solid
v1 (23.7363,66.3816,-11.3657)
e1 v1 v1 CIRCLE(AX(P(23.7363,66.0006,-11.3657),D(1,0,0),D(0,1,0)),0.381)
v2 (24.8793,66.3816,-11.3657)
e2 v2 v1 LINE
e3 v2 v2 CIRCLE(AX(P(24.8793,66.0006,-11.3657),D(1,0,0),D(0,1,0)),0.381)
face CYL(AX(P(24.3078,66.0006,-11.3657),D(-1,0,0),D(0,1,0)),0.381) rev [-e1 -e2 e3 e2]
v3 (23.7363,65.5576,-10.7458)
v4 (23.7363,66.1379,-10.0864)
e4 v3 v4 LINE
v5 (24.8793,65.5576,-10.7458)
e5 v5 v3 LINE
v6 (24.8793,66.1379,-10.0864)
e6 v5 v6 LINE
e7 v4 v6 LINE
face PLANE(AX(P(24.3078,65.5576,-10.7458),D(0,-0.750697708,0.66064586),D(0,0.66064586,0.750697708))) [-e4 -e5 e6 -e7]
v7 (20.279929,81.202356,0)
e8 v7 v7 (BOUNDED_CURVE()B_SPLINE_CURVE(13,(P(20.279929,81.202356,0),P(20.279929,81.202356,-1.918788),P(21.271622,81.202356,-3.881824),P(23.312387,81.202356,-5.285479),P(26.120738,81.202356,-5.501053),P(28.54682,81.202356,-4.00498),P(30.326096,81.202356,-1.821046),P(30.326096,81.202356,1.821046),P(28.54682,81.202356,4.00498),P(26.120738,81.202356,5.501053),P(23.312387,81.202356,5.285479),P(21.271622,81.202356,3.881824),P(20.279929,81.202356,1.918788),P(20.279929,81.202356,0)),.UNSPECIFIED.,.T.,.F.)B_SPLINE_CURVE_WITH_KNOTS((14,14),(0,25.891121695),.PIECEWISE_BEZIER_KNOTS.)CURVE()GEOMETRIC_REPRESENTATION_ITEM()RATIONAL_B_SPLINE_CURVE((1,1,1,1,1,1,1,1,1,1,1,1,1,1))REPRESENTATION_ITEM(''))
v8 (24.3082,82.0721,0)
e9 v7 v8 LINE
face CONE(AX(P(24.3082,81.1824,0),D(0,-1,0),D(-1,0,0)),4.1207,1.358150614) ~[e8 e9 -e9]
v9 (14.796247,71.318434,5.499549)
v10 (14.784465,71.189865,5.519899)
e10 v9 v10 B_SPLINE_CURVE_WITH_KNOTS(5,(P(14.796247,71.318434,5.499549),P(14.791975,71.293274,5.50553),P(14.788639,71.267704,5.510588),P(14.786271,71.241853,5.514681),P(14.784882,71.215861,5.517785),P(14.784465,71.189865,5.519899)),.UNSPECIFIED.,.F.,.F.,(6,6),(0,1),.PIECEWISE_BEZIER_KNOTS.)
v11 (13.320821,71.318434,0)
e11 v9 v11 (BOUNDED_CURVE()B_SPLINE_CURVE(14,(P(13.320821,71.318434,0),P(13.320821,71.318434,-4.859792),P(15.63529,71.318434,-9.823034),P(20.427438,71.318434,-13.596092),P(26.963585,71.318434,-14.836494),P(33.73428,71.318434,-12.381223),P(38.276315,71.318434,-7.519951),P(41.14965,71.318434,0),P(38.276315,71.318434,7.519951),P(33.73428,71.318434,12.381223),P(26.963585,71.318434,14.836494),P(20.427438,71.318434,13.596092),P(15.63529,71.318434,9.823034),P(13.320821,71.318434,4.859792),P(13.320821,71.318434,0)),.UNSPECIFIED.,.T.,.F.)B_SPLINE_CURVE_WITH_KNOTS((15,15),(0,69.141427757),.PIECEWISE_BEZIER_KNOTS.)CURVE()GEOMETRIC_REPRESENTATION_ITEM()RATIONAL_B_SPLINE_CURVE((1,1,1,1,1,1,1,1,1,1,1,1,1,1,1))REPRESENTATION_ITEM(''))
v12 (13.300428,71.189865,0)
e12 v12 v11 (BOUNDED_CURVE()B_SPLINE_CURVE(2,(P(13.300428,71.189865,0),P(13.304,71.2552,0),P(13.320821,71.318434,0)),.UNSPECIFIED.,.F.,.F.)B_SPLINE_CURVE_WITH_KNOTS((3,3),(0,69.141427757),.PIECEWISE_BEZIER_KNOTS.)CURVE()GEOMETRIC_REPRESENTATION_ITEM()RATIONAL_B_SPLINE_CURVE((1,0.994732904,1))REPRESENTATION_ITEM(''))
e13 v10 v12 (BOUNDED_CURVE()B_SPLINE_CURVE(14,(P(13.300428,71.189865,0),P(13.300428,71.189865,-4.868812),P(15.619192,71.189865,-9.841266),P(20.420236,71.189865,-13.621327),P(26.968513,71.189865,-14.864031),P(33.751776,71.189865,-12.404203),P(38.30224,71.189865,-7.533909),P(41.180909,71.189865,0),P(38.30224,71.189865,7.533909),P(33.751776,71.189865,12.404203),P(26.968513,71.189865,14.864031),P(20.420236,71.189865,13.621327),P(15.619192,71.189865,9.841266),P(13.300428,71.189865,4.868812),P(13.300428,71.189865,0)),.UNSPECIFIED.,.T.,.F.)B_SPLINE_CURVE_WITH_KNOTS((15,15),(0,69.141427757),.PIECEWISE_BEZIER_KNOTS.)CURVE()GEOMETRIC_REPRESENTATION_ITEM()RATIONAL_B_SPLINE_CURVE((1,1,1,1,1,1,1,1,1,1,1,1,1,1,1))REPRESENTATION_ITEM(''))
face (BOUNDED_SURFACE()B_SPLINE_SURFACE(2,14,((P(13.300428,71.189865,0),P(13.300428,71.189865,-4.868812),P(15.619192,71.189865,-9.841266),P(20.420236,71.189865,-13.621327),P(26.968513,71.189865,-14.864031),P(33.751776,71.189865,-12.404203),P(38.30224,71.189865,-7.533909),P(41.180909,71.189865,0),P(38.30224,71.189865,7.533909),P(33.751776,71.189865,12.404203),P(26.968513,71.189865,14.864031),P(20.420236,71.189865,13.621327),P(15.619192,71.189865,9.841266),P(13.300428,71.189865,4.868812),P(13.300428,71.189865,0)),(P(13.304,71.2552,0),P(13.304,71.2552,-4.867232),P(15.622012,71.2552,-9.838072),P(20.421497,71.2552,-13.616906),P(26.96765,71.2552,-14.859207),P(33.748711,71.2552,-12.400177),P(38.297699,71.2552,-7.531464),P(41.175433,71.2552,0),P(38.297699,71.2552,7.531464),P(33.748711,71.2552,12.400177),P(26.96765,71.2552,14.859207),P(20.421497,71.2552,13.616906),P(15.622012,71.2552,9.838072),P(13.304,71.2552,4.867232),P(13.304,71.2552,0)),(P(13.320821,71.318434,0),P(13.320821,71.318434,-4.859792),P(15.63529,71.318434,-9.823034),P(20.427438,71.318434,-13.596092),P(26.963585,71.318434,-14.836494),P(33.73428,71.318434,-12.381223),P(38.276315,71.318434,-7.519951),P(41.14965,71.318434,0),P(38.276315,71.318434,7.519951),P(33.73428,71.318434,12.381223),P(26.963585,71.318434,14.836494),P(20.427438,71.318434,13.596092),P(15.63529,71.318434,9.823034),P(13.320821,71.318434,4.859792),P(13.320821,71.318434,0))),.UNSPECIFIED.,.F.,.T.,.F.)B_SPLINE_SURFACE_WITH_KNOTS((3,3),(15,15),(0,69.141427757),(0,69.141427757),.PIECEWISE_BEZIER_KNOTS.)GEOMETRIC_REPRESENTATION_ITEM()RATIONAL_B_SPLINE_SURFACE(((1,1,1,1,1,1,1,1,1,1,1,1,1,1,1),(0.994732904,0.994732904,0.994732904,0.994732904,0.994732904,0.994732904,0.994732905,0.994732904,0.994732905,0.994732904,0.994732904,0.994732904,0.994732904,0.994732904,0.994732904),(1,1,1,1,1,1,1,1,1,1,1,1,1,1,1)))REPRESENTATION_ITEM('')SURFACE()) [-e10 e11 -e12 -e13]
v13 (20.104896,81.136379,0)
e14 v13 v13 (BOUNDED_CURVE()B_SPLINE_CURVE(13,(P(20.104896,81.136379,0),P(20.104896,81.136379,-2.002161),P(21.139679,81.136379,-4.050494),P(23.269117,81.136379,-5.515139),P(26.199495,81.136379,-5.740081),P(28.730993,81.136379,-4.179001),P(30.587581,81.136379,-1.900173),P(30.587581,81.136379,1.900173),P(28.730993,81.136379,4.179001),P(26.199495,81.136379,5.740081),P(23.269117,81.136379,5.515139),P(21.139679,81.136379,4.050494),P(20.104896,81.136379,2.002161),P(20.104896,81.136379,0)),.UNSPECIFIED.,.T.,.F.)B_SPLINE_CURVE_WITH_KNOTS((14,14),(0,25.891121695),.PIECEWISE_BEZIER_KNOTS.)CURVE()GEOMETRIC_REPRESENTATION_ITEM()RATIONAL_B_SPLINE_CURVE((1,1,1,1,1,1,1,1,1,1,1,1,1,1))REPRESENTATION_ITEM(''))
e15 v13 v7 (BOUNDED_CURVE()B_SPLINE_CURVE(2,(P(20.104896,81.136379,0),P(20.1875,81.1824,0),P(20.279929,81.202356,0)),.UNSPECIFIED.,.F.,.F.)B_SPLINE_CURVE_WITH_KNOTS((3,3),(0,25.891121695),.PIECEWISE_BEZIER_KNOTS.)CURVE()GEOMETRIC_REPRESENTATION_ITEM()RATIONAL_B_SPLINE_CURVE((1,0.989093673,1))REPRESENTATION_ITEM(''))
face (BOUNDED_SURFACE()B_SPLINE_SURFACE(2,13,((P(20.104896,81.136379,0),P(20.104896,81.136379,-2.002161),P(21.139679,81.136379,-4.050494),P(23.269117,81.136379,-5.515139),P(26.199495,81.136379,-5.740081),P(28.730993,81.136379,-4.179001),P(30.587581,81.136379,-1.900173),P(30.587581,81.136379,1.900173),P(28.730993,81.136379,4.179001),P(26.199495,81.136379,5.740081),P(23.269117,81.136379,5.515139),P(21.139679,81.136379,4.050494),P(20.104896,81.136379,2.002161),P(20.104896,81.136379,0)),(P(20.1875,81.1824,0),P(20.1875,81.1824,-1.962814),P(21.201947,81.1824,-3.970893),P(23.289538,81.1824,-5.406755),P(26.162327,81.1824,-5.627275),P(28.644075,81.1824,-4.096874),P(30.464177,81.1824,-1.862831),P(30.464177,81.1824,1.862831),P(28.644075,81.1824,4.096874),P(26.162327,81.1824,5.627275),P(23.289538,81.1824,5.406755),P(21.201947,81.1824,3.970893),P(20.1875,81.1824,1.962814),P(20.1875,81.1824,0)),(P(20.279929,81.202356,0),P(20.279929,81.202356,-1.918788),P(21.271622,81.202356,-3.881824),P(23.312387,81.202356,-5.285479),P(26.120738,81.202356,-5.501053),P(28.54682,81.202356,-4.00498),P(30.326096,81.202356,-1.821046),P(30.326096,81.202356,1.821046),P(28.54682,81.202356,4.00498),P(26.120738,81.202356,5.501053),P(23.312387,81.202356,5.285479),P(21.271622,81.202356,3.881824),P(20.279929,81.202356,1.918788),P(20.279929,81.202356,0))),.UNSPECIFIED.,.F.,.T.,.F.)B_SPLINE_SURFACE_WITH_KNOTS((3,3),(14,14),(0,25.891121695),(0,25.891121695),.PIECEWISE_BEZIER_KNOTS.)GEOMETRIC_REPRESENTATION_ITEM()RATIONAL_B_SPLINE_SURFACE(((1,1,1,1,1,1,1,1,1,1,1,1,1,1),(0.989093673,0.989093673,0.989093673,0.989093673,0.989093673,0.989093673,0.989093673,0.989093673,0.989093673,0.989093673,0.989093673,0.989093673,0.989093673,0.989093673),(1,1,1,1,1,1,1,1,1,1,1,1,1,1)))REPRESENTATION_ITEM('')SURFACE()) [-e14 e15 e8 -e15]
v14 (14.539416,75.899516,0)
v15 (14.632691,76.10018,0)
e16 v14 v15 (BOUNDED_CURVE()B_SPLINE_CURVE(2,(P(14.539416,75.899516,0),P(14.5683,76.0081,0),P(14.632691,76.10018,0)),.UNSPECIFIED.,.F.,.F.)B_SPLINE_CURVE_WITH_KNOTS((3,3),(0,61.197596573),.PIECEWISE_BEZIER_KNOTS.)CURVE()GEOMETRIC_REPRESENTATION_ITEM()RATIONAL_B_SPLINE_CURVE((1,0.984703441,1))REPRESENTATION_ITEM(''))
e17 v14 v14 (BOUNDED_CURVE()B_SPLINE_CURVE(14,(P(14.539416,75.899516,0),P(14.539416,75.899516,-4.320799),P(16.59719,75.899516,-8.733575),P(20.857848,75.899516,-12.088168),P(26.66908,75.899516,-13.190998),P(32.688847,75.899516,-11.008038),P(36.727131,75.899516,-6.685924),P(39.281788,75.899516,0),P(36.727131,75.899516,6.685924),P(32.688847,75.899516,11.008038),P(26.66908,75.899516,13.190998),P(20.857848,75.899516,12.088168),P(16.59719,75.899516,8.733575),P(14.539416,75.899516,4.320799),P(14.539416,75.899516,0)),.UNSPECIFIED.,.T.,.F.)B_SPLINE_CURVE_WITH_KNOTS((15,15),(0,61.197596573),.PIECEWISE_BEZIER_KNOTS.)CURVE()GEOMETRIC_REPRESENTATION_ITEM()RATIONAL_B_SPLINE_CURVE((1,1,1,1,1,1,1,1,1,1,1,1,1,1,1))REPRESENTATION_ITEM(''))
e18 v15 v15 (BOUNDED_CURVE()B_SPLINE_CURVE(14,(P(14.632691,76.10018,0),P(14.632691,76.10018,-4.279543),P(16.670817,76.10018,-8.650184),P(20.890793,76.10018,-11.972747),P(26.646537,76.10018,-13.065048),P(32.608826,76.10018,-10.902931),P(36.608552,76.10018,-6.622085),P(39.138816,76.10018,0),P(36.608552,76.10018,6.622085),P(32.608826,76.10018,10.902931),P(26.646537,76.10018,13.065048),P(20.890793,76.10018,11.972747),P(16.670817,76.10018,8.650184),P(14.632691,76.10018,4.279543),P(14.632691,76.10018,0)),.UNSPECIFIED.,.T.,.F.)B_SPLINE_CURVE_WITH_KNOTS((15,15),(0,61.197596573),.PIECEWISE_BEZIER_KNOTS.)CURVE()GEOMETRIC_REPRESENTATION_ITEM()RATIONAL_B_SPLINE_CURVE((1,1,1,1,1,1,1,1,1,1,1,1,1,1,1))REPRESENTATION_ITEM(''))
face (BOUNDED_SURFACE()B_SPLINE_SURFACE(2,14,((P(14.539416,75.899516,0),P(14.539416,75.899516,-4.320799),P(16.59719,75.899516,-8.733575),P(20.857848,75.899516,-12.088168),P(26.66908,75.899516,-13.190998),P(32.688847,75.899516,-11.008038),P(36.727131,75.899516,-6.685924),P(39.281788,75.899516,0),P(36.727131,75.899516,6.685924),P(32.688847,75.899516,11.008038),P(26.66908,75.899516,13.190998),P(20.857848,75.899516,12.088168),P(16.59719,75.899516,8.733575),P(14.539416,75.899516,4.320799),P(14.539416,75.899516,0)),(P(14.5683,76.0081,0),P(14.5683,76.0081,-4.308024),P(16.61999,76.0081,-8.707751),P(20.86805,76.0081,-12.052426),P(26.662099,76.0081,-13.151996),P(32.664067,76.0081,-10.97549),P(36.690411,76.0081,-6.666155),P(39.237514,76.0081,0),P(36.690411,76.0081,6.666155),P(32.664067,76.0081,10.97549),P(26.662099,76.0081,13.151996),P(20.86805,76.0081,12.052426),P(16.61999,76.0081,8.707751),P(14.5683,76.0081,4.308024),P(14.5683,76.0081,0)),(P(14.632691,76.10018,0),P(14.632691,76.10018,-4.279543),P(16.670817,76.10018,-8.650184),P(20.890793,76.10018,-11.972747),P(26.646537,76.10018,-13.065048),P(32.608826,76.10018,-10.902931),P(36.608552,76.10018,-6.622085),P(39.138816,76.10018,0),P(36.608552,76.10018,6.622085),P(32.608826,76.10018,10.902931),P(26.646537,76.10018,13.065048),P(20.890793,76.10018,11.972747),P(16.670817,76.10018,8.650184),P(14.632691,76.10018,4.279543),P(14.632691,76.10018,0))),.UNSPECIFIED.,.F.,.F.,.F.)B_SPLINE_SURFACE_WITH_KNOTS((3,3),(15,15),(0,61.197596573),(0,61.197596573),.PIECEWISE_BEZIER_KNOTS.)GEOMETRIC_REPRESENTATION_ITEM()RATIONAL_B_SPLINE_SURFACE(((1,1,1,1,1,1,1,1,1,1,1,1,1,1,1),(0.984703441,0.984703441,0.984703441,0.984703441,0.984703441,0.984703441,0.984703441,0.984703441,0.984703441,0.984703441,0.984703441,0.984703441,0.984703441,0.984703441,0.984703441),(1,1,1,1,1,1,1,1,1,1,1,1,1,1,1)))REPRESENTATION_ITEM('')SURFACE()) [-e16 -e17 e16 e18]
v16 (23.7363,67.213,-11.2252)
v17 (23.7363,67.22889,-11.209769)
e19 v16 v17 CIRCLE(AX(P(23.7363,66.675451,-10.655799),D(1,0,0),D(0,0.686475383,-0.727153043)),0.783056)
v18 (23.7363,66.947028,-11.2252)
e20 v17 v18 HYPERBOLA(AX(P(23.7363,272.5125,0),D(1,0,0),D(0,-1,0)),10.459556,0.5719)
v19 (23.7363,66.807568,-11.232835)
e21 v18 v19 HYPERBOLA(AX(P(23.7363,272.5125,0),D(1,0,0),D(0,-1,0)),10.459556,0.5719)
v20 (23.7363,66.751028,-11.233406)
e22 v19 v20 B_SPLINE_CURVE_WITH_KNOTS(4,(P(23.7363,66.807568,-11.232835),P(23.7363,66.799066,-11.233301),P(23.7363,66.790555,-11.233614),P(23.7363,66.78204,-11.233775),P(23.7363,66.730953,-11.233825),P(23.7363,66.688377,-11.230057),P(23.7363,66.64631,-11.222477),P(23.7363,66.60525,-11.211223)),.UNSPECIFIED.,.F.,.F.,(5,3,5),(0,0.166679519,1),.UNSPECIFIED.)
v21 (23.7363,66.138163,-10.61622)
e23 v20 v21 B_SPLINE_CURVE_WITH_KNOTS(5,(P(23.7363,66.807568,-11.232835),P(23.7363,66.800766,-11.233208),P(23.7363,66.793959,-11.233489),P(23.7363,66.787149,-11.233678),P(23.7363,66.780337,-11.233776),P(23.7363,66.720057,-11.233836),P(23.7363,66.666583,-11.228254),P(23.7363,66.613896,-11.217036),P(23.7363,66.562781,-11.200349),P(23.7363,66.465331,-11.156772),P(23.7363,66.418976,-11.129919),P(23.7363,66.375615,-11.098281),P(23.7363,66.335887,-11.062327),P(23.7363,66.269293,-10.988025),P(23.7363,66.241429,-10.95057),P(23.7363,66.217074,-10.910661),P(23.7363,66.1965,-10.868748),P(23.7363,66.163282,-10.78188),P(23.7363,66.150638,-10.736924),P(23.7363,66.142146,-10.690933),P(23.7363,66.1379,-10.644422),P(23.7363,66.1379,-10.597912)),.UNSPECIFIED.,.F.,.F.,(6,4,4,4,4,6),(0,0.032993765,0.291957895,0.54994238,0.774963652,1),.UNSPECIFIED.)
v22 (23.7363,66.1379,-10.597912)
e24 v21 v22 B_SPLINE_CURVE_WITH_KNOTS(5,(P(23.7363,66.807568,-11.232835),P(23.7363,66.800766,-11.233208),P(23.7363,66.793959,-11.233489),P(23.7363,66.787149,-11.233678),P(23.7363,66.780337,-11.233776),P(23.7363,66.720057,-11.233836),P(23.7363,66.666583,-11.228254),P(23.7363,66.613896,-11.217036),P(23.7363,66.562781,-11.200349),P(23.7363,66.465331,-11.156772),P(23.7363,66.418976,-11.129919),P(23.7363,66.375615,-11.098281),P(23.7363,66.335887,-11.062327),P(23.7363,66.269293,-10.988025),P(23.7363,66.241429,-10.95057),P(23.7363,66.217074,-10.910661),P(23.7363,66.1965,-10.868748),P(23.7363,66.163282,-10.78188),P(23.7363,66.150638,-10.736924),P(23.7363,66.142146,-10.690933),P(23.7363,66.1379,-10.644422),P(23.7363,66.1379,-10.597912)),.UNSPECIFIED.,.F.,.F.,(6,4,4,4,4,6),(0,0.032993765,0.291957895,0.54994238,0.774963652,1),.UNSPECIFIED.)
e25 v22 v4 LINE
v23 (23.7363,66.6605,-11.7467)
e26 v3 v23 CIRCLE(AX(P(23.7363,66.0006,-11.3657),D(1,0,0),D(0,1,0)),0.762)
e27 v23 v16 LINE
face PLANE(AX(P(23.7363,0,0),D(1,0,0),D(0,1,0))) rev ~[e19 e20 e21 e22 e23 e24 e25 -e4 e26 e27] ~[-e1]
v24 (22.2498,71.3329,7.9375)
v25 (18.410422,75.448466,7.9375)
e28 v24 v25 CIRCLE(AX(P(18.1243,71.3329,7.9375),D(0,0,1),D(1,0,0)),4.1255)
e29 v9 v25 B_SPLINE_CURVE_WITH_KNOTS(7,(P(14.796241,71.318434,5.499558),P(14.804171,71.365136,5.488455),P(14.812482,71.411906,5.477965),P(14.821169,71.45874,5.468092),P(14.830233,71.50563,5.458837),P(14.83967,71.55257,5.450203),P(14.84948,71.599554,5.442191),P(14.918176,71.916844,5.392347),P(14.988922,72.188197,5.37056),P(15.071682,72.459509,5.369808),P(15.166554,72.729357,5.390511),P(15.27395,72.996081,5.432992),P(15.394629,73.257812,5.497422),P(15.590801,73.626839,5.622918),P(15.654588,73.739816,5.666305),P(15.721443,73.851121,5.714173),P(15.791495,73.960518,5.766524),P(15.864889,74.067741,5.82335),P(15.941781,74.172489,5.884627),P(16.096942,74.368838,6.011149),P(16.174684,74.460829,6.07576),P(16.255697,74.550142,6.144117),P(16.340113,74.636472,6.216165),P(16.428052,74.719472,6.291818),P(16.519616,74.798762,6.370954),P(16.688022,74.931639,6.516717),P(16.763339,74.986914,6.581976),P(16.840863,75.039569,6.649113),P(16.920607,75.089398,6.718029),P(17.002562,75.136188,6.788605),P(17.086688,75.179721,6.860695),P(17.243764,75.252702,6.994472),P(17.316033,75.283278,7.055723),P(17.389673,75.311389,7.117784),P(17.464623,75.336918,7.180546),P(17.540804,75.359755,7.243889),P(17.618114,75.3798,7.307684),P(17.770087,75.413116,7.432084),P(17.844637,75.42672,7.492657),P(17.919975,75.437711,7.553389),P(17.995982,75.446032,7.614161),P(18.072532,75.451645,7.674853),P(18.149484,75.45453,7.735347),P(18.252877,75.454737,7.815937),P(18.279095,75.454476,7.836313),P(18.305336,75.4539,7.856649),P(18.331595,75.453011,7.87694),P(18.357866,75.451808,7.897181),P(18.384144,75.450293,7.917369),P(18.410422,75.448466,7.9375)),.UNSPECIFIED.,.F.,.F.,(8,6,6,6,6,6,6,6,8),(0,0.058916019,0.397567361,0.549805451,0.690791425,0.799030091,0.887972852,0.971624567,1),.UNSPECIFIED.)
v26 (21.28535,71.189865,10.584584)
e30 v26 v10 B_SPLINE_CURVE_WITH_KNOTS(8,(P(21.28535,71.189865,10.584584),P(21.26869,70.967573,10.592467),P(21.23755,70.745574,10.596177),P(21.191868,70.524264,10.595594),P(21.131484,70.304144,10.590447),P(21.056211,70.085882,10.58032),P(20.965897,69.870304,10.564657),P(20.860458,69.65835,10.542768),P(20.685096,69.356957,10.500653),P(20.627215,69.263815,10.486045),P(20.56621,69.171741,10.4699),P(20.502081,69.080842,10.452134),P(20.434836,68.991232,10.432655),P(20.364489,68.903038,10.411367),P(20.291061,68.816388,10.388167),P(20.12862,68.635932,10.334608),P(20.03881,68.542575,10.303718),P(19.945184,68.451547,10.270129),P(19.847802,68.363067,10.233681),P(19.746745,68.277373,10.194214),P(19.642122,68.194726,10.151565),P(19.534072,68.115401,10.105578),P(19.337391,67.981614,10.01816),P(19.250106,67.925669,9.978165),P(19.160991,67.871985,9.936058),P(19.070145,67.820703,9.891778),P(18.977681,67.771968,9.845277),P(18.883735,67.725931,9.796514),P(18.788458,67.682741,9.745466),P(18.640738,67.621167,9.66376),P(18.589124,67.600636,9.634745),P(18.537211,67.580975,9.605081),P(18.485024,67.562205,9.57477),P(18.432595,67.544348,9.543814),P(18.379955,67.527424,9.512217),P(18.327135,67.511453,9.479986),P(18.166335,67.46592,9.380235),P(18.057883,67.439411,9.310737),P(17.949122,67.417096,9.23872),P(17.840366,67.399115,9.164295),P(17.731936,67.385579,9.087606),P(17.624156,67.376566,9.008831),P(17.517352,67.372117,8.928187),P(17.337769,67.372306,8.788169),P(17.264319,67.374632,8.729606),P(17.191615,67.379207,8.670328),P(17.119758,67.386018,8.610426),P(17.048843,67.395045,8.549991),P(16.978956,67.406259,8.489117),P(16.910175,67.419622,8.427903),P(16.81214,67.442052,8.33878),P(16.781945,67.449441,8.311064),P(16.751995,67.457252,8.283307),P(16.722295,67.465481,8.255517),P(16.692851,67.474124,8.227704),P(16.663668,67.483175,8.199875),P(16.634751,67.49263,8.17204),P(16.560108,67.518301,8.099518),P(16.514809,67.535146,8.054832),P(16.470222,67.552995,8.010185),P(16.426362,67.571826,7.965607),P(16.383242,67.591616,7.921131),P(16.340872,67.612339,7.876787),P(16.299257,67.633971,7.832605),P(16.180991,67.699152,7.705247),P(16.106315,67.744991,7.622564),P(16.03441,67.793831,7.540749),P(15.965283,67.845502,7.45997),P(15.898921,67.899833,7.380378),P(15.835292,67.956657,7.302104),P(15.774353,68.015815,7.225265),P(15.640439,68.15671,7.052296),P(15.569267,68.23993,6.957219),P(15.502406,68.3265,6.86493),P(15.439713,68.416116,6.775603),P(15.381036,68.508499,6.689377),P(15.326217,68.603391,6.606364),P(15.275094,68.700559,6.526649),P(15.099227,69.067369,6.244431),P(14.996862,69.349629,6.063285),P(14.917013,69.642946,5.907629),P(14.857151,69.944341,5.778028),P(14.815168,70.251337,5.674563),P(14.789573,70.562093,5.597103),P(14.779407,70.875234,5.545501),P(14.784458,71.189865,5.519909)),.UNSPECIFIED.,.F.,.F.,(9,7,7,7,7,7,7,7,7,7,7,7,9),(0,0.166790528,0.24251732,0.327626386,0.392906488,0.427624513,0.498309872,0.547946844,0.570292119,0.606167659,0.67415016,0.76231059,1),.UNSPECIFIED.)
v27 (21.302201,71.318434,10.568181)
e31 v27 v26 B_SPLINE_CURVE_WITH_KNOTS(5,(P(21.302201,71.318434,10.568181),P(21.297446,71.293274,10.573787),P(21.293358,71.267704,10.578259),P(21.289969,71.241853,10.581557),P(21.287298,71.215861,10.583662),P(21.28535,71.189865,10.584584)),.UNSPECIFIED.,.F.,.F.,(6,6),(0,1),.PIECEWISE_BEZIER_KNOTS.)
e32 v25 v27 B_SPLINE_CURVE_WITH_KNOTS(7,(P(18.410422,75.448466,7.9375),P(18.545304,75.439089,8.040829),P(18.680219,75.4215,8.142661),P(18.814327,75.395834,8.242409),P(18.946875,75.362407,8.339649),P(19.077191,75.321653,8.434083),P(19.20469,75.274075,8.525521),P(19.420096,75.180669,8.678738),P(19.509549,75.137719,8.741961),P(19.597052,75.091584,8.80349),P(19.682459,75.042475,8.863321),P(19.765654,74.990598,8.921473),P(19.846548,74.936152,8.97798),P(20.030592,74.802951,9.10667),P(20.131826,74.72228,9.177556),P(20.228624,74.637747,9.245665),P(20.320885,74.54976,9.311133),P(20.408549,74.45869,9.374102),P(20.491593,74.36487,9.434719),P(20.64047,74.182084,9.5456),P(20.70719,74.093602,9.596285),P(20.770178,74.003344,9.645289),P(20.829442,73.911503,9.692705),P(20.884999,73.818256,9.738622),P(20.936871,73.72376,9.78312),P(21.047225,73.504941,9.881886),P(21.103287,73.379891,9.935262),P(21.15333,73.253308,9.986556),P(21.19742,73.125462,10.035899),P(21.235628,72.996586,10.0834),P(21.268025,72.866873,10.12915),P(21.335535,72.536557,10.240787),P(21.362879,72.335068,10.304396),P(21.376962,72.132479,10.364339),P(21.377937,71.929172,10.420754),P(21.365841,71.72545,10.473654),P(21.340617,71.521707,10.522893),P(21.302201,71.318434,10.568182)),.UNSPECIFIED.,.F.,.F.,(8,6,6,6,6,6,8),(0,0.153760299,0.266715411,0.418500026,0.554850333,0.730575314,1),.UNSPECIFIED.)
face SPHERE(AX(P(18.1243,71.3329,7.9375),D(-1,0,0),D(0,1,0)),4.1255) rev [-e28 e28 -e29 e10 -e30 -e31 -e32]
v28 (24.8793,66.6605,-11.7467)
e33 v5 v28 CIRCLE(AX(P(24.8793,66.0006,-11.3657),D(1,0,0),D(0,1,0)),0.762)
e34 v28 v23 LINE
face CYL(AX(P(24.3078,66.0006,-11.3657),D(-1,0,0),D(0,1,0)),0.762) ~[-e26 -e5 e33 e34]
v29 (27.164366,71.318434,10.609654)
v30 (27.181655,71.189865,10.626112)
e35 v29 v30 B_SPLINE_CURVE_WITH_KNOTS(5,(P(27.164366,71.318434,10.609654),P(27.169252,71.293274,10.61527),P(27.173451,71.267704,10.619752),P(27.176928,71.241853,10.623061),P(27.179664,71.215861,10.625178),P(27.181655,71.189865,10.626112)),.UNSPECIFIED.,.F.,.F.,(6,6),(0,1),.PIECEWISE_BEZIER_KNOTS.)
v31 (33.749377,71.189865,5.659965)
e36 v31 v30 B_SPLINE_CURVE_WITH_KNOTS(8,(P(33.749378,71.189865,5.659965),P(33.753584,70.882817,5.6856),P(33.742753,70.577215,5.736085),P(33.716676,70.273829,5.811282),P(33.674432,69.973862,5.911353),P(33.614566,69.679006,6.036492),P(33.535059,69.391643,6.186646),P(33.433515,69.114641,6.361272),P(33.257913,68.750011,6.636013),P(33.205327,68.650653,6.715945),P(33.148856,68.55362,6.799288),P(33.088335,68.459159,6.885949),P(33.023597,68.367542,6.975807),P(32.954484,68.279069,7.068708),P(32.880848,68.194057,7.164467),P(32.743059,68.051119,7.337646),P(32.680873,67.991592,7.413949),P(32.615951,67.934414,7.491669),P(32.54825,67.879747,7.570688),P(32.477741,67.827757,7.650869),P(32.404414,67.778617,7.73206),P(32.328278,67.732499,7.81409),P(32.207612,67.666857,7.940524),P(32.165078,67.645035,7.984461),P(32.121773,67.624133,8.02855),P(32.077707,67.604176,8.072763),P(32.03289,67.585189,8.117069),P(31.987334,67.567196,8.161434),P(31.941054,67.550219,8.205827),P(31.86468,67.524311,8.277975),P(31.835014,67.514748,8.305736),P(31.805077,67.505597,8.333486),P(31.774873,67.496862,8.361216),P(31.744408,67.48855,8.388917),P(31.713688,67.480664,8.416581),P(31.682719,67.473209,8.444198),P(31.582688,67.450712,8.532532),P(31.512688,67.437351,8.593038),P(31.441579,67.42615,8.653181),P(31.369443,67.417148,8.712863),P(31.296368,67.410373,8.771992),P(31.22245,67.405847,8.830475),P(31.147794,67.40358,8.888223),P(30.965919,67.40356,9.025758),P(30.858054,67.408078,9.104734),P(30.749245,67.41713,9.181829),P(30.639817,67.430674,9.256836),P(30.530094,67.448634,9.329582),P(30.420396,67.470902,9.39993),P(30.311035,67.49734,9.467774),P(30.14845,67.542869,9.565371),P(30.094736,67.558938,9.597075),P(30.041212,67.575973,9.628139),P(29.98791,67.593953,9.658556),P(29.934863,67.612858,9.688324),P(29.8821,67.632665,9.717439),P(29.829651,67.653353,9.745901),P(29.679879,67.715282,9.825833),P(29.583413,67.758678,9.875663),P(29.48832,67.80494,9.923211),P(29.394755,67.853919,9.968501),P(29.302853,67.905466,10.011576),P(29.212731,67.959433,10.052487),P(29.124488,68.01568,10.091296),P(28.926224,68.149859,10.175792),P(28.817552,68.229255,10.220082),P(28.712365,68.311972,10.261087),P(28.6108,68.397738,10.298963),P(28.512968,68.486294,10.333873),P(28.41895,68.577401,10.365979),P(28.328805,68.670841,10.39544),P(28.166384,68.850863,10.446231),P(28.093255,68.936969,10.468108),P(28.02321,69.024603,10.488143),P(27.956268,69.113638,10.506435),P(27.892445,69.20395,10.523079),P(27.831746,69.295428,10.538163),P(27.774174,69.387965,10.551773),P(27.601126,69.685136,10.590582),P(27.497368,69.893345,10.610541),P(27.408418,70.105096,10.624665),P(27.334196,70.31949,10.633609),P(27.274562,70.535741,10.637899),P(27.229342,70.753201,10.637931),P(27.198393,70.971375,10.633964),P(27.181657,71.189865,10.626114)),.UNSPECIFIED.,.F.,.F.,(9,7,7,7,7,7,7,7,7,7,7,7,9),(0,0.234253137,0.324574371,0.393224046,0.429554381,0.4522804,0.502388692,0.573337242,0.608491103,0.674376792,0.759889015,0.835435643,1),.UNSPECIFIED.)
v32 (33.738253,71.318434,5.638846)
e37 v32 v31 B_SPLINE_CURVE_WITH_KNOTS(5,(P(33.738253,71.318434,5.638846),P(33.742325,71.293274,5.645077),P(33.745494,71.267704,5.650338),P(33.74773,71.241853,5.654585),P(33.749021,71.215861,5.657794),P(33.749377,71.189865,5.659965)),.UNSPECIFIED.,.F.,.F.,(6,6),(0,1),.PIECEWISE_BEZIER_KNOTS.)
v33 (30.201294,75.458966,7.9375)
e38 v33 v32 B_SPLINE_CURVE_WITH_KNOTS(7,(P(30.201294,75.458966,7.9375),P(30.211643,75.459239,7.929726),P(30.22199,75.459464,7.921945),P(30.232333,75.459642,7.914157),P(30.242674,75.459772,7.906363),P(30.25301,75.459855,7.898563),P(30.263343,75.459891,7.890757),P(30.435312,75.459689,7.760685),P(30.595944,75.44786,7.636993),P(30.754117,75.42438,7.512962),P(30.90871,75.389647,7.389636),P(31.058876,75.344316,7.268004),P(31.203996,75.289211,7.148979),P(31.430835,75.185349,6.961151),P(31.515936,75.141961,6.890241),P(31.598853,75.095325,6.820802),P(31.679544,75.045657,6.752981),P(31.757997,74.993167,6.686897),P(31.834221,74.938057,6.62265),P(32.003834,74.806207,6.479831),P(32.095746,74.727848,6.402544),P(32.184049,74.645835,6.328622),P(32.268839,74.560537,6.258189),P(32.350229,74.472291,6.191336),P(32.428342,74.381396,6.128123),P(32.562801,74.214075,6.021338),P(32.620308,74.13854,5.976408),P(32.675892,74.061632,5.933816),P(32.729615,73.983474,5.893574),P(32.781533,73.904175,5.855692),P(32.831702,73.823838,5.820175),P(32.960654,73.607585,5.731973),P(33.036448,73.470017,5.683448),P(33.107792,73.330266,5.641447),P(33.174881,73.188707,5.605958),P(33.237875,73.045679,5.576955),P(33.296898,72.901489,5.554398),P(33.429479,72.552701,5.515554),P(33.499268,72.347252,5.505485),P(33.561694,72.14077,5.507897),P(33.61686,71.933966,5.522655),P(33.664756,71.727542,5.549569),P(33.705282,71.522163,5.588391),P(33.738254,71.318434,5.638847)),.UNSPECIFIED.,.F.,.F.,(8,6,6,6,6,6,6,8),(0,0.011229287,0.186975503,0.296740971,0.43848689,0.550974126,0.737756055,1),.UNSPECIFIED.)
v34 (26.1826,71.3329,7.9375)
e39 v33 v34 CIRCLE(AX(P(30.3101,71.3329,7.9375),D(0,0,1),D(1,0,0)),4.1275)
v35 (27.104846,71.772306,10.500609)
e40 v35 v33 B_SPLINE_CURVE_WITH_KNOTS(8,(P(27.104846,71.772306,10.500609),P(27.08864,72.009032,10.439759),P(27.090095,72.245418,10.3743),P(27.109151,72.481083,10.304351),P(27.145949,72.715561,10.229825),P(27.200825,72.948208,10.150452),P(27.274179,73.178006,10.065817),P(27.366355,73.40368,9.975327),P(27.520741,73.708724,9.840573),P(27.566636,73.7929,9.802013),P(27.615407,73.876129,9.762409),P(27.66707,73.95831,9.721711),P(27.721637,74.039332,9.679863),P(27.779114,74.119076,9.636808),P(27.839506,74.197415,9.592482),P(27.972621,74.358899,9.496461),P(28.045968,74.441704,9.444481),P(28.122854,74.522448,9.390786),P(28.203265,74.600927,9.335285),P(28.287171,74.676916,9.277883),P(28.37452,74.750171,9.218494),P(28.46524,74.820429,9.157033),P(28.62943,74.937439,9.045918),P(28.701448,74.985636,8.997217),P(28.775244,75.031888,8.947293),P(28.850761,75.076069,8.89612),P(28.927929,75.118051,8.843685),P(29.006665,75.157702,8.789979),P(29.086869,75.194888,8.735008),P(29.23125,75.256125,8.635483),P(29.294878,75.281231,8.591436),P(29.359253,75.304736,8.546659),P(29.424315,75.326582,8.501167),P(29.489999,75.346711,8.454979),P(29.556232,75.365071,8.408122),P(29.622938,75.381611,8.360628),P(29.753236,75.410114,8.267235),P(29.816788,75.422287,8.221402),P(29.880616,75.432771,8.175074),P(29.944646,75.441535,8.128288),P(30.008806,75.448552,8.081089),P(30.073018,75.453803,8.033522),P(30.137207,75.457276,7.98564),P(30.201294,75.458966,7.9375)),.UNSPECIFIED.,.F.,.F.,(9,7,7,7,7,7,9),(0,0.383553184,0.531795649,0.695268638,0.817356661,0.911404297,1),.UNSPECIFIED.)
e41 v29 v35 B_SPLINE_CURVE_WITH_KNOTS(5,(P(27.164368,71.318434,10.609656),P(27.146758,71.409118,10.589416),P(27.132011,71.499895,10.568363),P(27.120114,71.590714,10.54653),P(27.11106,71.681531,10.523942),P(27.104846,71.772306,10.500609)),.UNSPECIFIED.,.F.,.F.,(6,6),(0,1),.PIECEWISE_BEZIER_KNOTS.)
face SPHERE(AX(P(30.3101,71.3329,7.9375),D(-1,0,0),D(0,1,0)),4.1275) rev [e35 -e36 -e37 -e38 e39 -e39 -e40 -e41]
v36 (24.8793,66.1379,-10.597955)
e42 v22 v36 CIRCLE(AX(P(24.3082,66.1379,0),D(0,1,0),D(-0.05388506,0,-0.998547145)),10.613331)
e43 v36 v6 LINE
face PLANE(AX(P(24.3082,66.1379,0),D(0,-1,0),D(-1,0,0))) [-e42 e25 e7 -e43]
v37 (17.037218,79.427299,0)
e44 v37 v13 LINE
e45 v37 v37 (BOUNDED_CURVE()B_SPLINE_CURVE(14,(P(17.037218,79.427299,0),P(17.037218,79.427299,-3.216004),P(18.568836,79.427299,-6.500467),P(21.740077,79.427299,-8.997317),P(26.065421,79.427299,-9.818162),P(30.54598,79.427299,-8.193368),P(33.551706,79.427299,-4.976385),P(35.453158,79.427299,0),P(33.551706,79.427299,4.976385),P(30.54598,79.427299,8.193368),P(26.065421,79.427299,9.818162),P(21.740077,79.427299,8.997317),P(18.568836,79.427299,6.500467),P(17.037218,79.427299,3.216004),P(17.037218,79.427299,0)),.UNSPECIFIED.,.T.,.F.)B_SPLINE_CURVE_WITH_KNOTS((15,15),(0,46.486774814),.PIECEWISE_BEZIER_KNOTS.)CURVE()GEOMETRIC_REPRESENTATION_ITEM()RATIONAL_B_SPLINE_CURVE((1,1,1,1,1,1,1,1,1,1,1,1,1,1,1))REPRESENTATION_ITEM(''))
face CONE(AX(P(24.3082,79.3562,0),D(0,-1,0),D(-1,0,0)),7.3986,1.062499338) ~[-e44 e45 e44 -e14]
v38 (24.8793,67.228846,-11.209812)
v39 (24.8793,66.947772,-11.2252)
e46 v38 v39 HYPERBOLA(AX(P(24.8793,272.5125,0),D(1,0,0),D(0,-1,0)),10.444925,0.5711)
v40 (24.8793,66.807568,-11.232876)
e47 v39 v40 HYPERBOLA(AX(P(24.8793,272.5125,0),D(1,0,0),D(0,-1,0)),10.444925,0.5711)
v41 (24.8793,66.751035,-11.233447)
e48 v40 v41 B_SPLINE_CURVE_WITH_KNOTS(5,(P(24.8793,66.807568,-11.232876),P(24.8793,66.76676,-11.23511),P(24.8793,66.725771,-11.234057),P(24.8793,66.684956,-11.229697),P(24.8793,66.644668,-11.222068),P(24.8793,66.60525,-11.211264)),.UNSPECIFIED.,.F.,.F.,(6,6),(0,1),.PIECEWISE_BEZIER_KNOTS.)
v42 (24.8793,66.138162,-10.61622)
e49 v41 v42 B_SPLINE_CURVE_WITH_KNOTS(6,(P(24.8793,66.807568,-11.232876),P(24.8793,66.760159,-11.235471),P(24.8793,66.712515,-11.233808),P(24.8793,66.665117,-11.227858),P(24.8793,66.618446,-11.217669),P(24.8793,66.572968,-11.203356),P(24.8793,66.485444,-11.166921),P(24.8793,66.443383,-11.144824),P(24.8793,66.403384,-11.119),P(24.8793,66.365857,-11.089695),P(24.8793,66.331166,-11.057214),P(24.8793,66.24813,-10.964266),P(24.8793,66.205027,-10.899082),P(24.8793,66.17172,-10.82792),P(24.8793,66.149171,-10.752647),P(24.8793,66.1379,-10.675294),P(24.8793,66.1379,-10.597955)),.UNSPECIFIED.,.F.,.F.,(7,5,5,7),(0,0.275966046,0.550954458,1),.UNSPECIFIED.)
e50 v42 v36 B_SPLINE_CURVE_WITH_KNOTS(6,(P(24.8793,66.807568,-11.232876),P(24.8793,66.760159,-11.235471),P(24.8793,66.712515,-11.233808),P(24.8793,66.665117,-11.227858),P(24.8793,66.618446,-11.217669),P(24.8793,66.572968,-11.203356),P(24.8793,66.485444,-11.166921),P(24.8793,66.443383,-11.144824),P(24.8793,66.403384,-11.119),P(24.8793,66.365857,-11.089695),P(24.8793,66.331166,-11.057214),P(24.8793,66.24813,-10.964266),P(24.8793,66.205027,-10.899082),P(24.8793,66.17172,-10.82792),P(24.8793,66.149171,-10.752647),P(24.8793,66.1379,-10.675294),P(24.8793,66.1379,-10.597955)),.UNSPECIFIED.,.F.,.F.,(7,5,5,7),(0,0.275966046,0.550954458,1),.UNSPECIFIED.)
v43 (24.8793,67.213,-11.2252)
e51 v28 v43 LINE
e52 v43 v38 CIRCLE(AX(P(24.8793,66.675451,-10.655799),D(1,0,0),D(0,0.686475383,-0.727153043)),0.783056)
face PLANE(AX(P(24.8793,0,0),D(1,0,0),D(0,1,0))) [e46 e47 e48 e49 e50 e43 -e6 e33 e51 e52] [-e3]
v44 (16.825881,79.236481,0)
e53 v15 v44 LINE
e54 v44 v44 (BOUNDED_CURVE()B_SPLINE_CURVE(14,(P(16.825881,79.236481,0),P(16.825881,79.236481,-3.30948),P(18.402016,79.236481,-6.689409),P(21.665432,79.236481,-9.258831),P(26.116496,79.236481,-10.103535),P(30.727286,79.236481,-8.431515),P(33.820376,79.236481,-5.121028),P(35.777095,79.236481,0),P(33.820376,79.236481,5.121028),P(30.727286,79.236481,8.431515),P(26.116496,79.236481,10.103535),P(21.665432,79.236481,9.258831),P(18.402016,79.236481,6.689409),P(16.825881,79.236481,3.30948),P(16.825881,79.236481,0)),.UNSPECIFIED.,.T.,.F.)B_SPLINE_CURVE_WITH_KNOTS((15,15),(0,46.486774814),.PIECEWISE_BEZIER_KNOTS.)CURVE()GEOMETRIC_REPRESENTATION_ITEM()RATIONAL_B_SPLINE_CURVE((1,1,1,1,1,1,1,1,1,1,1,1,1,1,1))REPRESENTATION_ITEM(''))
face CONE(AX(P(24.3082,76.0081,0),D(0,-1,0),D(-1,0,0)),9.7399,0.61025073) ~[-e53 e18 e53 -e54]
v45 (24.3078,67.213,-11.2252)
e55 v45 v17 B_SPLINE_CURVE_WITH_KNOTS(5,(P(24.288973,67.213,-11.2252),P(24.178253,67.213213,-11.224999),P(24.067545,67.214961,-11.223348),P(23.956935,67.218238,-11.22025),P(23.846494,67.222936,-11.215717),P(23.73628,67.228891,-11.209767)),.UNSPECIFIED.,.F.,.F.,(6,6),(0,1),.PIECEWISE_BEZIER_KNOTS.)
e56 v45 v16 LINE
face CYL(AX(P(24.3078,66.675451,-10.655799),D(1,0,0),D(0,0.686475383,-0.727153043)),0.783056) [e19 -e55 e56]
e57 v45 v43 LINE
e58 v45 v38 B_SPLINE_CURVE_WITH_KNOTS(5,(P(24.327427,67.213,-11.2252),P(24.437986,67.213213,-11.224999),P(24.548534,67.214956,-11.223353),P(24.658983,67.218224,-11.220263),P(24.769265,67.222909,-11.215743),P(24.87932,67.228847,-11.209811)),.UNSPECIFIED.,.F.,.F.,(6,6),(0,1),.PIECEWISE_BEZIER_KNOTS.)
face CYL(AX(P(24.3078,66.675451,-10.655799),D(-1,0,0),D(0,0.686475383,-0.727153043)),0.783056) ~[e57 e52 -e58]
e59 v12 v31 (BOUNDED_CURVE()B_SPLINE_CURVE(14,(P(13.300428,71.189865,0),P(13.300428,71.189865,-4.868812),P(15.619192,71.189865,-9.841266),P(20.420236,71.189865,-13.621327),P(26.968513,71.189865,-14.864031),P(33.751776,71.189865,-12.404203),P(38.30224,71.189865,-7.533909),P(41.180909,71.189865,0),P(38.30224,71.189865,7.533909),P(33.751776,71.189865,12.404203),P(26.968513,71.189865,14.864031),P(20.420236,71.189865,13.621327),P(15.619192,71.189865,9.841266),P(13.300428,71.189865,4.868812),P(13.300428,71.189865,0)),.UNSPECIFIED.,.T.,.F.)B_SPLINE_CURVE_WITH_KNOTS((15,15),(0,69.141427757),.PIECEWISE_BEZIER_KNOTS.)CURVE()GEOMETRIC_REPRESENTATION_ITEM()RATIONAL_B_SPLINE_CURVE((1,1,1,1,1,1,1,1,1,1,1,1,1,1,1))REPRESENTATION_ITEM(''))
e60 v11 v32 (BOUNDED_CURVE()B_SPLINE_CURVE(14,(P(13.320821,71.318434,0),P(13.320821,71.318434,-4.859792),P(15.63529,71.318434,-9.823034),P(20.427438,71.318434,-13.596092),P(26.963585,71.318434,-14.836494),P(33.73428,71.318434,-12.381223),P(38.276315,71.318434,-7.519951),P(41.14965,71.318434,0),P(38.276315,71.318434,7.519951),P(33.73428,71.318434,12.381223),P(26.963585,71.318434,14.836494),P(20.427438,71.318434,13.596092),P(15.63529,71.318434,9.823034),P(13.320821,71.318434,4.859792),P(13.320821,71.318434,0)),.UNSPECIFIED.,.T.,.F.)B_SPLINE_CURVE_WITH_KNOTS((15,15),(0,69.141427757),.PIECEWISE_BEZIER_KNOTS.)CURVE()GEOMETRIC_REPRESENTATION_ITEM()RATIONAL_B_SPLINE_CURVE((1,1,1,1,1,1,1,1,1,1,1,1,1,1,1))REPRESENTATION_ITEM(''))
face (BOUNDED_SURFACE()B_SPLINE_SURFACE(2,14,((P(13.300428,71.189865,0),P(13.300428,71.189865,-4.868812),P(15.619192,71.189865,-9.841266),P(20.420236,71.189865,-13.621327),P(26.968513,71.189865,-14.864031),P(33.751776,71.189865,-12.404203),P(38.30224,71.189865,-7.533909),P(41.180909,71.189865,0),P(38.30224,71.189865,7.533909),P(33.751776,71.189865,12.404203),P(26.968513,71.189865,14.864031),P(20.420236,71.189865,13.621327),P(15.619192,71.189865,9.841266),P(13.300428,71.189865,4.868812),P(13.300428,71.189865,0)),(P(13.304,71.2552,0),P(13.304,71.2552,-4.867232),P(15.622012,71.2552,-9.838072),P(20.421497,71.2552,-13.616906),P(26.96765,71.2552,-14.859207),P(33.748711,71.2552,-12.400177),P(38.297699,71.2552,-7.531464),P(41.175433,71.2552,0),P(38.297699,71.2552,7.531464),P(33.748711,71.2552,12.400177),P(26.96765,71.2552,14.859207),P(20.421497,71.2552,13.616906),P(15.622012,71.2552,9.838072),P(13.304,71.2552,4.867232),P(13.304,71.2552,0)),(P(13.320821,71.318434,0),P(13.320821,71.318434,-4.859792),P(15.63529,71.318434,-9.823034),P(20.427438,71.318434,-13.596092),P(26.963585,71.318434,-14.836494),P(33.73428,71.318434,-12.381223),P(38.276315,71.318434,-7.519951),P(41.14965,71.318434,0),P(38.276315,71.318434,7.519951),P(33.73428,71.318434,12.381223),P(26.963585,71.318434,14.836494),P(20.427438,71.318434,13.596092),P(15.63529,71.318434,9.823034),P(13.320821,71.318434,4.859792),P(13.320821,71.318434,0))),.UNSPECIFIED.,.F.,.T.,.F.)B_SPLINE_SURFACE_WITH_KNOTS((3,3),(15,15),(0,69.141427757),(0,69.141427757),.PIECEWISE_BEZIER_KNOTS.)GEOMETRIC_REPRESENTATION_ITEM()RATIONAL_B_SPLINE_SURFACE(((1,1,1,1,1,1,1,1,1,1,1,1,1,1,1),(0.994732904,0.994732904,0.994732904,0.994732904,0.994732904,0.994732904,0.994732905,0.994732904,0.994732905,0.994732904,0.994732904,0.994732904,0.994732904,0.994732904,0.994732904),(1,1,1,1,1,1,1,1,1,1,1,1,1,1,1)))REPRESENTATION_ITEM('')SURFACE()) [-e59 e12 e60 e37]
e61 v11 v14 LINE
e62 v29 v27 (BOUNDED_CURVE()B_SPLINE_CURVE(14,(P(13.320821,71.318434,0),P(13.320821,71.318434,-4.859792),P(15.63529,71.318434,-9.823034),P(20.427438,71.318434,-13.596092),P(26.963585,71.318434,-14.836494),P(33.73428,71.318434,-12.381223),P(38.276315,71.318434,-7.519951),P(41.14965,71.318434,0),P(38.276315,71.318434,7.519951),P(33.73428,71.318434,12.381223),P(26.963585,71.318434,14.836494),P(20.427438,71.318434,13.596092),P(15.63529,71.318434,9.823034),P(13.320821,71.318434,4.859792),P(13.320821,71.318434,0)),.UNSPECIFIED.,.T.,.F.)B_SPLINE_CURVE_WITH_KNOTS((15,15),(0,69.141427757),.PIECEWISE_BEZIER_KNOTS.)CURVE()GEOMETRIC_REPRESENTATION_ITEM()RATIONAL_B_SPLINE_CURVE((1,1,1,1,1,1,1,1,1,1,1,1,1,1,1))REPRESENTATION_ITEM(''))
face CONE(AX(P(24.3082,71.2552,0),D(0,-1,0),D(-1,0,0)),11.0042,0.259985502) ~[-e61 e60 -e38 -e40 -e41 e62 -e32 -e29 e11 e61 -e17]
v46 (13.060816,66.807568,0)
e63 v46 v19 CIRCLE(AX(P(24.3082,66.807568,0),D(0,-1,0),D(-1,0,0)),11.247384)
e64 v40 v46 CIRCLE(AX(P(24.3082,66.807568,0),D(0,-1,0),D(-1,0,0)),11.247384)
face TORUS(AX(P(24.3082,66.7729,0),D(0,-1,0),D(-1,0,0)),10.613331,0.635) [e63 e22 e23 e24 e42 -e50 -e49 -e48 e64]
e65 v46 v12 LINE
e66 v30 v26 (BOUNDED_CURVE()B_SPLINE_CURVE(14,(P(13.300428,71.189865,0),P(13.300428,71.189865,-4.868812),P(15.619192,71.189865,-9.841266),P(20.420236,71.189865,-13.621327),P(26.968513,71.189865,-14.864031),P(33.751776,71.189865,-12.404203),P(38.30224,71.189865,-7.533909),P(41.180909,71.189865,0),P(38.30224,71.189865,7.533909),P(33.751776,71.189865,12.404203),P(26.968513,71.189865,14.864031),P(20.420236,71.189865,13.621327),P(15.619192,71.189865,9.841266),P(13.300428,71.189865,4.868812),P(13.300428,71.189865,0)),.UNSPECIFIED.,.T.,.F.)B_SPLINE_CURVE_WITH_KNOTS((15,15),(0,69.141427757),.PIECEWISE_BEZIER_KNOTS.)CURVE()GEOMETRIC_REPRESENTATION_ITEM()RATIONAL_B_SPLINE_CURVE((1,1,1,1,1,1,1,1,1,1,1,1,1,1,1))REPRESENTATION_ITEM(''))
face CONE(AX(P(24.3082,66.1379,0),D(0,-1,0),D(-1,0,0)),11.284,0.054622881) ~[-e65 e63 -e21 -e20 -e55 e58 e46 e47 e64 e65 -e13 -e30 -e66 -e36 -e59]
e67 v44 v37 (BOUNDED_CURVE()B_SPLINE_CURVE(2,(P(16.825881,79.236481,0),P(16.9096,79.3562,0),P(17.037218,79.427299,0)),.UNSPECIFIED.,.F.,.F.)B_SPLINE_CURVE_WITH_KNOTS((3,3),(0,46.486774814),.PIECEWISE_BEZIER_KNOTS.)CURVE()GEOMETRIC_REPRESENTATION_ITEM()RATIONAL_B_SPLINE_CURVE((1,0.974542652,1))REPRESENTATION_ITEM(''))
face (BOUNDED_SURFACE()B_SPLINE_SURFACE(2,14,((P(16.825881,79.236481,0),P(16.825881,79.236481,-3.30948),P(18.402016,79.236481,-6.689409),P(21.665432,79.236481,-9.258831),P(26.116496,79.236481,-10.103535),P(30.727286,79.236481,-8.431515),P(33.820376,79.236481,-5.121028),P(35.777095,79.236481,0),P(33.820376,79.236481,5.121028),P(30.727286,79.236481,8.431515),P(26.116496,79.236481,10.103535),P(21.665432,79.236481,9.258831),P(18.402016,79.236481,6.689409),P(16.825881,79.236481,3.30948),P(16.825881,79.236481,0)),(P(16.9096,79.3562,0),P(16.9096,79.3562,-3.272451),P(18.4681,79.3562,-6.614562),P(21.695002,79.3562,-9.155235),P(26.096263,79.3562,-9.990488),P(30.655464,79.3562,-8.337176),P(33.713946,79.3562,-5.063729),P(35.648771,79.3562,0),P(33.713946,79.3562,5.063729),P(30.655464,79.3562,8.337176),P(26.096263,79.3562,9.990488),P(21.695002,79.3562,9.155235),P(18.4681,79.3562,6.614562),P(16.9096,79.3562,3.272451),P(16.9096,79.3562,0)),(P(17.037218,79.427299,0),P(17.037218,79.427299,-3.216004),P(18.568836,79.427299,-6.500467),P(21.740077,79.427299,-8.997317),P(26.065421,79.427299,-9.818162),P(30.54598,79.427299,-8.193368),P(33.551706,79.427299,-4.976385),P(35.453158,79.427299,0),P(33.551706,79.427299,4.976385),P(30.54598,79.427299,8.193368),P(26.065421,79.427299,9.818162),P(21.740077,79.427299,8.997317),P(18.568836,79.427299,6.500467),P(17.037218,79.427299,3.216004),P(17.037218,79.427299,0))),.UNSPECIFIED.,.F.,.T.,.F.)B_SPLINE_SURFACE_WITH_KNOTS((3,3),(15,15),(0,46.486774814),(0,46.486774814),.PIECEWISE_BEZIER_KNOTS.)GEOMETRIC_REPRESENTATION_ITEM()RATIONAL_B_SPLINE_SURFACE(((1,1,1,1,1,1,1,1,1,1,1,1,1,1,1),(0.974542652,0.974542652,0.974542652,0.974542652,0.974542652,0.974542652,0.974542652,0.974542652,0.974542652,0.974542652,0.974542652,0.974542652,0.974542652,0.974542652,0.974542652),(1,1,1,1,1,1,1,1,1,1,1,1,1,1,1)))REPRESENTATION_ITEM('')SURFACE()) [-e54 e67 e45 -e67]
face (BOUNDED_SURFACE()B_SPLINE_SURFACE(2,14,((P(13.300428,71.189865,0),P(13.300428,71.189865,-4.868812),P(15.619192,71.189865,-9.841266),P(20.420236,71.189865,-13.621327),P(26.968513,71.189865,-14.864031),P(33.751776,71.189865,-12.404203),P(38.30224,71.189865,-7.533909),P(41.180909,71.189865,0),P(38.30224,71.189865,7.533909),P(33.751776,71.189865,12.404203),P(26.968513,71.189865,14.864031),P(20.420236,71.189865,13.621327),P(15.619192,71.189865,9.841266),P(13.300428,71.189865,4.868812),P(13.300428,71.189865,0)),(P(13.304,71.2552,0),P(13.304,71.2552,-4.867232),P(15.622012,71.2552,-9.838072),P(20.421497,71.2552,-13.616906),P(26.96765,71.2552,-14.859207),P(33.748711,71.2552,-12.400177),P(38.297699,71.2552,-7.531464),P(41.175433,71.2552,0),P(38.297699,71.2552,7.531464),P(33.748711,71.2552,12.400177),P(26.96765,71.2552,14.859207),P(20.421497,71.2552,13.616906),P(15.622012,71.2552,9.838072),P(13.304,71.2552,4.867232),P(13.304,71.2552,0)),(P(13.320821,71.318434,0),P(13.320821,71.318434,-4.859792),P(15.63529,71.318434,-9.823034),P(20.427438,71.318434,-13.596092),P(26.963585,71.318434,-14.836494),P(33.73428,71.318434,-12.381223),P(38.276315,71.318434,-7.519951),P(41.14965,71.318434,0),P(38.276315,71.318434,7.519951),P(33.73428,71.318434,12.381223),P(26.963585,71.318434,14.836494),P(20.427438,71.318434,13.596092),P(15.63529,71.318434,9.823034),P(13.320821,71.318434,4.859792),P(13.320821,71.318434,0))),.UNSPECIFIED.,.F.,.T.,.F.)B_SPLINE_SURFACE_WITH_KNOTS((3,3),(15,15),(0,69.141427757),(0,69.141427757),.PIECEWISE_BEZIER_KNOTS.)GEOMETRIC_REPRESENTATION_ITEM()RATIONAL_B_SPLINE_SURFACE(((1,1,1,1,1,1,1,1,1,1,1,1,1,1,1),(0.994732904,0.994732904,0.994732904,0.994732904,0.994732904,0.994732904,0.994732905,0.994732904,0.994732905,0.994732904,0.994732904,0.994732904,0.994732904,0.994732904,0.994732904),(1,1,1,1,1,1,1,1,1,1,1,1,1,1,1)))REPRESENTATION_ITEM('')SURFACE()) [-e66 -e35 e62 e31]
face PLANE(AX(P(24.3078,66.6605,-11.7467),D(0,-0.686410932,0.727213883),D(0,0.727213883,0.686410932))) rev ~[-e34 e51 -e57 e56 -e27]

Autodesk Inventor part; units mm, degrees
ref_plane "XZ Plane" through (0, 0, 0) normal (0, 1, 0) x (-1, 0, 0)
sketch "Sketch1" plane through (0, 0, 0) normal (0, 0, 1) x (1, 0, 0)
  line L0 (1.9155, 84.5388) -> (46.3655, 84.5388) construction
  line L1 (46.3655, 84.5388) -> (46.3655, 1.9888) construction
  line L2 (46.3655, 1.9888) -> (1.9155, 1.9888) construction
  line L3 (1.9155, 1.9888) -> (1.9155, 84.5388) construction
  line L4 (13.0242, 66.1379) -> (35.273, 66.1379)
  line L5 (13.0242, 66.1379) -> (13.304, 71.2552)
  line L6 (13.304, 71.2552) -> (14.5683, 76.0081)
  line L7 (14.5683, 76.0081) -> (16.9096, 79.3562)
  line L8 (16.9096, 79.3562) -> (20.1875, 81.1824)
  line L9 (20.1875, 81.1824) -> (24.3082, 82.0721)
  line L10 (24.3082, 82.0721) -> (24.3082, 66.1379)
  line L11 (35.5922, 66.1379) -> (35.3124, 71.2552)
  line L12 (35.3124, 71.2552) -> (34.0481, 76.0081)
  line L13 (34.0481, 76.0081) -> (31.7068, 79.3562)
  line L14 (31.7068, 79.3562) -> (28.4289, 81.1824)
  line L15 (28.4289, 81.1824) -> (24.3082, 82.0721)
  point P0 (0, 0)
revolve "Revolution1" add sketch "Sketch1" angle 360 about axis through (24.3082, 82.0721, 0) along (0, -1, 0)
fillet "Fillet1" radius 0.635 5 edges at (35.5922, 66.1379, 0) (35.3124, 71.2552, 0) (34.0481, 76.0081, 0) (31.7068, 79.3562, 0) (28.4289, 81.1824, 0)
ref_plane "Work Plane1" through (0, 0, 7.9375) normal (0, 0, 1) x (1, 0, 0)
sketch "Sketch2" plane through (0, 0, 7.9375) normal (0, 0, 1) x (1, 0, 0)
  line L0 (1.9442, 84.5823) -> (46.3942, 84.5823) construction
  line L1 (46.3942, 84.5823) -> (46.3942, 2.0323) construction
  line L2 (46.3942, 2.0323) -> (1.9442, 2.0323) construction
  line L3 (1.9442, 2.0323) -> (1.9442, 84.5823) construction
  circle A0 centre (18.1243, 71.3329) radius 4.1255
  circle A1 centre (30.3101, 71.3329) radius 4.1275
  line L4 (18.1243, 71.3329) -> (30.3101, 71.3329)
  line L5 (30.3101, 71.3329) -> (34.4376, 71.3329)
  line L6 (18.1243, 71.3329) -> (13.9988, 71.3329)
  point P0 (0, 0)
  point P1 (26.1826, 71.3329)
  point P2 (22.2498, 71.3329)
  dimension "d11" = 8.251
  dimension "d12" = 8.255
revolve "Revolution2" cut sketch "Sketch2" angle 360 about axis through (18.1243, 71.3329, 7.9375) along (1, 0, 0) picked at (15.4139, 71.662) picked at (28.062, 72.8846) contours L4 L6 A0 | A1 L5 L4
ref_plane "Work Plane2" through (24.3078, 0, 0) normal (1, 0, 0) x (0, 1, 0)
sketch "Sketch3" plane through (24.3078, 0, 0) normal (1, 0, 0) x (0, 1, 0)
  line L0 (83.2138, 13.5179) -> (83.2138, -13.8458) construction
  line L1 (83.2138, -13.8458) -> (60.6921, -13.8458) construction
  line L2 (60.6921, -13.8458) -> (60.6921, 13.5179) construction
  line L3 (60.6921, 13.5179) -> (83.2138, 13.5179) construction
  circle A0 centre (66.0006, -11.3657) radius 0.762
  circle A1 centre (66.0006, -11.3657) radius 0.381
  line L4 (66.1379, -10.6133) -> (66.1379, 10.6133) projected
  line L5 (66.6605, -11.7467) -> (67.213, -11.2252)
  line L6 (71.1899, -11.0078) -> (66.8076, -11.2474) projected
  line L7 (66.1379, -10.0536) -> (66.1379, -10.6133)
  line L8 (67.213, -11.2252) -> (66.7496, -11.2252)
  line L9 (65.5576, -10.7458) -> (66.1379, -10.0864)
  line L10 (66.1379, -10.0864) -> (66.1379, -10.6162)
  arc A2 (67.213, -11.2252) -> (66.1379, -10.0864) centre (66.6755, -10.6558) ccw
  point P0 (0, 0)
  dimension "d19" = 1.524
  dimension "d20" = 0.762
extrude "Extrusion1" add sketch "Sketch3" along normal mid plane 1.143
properties part number "Head_3DPrint"
